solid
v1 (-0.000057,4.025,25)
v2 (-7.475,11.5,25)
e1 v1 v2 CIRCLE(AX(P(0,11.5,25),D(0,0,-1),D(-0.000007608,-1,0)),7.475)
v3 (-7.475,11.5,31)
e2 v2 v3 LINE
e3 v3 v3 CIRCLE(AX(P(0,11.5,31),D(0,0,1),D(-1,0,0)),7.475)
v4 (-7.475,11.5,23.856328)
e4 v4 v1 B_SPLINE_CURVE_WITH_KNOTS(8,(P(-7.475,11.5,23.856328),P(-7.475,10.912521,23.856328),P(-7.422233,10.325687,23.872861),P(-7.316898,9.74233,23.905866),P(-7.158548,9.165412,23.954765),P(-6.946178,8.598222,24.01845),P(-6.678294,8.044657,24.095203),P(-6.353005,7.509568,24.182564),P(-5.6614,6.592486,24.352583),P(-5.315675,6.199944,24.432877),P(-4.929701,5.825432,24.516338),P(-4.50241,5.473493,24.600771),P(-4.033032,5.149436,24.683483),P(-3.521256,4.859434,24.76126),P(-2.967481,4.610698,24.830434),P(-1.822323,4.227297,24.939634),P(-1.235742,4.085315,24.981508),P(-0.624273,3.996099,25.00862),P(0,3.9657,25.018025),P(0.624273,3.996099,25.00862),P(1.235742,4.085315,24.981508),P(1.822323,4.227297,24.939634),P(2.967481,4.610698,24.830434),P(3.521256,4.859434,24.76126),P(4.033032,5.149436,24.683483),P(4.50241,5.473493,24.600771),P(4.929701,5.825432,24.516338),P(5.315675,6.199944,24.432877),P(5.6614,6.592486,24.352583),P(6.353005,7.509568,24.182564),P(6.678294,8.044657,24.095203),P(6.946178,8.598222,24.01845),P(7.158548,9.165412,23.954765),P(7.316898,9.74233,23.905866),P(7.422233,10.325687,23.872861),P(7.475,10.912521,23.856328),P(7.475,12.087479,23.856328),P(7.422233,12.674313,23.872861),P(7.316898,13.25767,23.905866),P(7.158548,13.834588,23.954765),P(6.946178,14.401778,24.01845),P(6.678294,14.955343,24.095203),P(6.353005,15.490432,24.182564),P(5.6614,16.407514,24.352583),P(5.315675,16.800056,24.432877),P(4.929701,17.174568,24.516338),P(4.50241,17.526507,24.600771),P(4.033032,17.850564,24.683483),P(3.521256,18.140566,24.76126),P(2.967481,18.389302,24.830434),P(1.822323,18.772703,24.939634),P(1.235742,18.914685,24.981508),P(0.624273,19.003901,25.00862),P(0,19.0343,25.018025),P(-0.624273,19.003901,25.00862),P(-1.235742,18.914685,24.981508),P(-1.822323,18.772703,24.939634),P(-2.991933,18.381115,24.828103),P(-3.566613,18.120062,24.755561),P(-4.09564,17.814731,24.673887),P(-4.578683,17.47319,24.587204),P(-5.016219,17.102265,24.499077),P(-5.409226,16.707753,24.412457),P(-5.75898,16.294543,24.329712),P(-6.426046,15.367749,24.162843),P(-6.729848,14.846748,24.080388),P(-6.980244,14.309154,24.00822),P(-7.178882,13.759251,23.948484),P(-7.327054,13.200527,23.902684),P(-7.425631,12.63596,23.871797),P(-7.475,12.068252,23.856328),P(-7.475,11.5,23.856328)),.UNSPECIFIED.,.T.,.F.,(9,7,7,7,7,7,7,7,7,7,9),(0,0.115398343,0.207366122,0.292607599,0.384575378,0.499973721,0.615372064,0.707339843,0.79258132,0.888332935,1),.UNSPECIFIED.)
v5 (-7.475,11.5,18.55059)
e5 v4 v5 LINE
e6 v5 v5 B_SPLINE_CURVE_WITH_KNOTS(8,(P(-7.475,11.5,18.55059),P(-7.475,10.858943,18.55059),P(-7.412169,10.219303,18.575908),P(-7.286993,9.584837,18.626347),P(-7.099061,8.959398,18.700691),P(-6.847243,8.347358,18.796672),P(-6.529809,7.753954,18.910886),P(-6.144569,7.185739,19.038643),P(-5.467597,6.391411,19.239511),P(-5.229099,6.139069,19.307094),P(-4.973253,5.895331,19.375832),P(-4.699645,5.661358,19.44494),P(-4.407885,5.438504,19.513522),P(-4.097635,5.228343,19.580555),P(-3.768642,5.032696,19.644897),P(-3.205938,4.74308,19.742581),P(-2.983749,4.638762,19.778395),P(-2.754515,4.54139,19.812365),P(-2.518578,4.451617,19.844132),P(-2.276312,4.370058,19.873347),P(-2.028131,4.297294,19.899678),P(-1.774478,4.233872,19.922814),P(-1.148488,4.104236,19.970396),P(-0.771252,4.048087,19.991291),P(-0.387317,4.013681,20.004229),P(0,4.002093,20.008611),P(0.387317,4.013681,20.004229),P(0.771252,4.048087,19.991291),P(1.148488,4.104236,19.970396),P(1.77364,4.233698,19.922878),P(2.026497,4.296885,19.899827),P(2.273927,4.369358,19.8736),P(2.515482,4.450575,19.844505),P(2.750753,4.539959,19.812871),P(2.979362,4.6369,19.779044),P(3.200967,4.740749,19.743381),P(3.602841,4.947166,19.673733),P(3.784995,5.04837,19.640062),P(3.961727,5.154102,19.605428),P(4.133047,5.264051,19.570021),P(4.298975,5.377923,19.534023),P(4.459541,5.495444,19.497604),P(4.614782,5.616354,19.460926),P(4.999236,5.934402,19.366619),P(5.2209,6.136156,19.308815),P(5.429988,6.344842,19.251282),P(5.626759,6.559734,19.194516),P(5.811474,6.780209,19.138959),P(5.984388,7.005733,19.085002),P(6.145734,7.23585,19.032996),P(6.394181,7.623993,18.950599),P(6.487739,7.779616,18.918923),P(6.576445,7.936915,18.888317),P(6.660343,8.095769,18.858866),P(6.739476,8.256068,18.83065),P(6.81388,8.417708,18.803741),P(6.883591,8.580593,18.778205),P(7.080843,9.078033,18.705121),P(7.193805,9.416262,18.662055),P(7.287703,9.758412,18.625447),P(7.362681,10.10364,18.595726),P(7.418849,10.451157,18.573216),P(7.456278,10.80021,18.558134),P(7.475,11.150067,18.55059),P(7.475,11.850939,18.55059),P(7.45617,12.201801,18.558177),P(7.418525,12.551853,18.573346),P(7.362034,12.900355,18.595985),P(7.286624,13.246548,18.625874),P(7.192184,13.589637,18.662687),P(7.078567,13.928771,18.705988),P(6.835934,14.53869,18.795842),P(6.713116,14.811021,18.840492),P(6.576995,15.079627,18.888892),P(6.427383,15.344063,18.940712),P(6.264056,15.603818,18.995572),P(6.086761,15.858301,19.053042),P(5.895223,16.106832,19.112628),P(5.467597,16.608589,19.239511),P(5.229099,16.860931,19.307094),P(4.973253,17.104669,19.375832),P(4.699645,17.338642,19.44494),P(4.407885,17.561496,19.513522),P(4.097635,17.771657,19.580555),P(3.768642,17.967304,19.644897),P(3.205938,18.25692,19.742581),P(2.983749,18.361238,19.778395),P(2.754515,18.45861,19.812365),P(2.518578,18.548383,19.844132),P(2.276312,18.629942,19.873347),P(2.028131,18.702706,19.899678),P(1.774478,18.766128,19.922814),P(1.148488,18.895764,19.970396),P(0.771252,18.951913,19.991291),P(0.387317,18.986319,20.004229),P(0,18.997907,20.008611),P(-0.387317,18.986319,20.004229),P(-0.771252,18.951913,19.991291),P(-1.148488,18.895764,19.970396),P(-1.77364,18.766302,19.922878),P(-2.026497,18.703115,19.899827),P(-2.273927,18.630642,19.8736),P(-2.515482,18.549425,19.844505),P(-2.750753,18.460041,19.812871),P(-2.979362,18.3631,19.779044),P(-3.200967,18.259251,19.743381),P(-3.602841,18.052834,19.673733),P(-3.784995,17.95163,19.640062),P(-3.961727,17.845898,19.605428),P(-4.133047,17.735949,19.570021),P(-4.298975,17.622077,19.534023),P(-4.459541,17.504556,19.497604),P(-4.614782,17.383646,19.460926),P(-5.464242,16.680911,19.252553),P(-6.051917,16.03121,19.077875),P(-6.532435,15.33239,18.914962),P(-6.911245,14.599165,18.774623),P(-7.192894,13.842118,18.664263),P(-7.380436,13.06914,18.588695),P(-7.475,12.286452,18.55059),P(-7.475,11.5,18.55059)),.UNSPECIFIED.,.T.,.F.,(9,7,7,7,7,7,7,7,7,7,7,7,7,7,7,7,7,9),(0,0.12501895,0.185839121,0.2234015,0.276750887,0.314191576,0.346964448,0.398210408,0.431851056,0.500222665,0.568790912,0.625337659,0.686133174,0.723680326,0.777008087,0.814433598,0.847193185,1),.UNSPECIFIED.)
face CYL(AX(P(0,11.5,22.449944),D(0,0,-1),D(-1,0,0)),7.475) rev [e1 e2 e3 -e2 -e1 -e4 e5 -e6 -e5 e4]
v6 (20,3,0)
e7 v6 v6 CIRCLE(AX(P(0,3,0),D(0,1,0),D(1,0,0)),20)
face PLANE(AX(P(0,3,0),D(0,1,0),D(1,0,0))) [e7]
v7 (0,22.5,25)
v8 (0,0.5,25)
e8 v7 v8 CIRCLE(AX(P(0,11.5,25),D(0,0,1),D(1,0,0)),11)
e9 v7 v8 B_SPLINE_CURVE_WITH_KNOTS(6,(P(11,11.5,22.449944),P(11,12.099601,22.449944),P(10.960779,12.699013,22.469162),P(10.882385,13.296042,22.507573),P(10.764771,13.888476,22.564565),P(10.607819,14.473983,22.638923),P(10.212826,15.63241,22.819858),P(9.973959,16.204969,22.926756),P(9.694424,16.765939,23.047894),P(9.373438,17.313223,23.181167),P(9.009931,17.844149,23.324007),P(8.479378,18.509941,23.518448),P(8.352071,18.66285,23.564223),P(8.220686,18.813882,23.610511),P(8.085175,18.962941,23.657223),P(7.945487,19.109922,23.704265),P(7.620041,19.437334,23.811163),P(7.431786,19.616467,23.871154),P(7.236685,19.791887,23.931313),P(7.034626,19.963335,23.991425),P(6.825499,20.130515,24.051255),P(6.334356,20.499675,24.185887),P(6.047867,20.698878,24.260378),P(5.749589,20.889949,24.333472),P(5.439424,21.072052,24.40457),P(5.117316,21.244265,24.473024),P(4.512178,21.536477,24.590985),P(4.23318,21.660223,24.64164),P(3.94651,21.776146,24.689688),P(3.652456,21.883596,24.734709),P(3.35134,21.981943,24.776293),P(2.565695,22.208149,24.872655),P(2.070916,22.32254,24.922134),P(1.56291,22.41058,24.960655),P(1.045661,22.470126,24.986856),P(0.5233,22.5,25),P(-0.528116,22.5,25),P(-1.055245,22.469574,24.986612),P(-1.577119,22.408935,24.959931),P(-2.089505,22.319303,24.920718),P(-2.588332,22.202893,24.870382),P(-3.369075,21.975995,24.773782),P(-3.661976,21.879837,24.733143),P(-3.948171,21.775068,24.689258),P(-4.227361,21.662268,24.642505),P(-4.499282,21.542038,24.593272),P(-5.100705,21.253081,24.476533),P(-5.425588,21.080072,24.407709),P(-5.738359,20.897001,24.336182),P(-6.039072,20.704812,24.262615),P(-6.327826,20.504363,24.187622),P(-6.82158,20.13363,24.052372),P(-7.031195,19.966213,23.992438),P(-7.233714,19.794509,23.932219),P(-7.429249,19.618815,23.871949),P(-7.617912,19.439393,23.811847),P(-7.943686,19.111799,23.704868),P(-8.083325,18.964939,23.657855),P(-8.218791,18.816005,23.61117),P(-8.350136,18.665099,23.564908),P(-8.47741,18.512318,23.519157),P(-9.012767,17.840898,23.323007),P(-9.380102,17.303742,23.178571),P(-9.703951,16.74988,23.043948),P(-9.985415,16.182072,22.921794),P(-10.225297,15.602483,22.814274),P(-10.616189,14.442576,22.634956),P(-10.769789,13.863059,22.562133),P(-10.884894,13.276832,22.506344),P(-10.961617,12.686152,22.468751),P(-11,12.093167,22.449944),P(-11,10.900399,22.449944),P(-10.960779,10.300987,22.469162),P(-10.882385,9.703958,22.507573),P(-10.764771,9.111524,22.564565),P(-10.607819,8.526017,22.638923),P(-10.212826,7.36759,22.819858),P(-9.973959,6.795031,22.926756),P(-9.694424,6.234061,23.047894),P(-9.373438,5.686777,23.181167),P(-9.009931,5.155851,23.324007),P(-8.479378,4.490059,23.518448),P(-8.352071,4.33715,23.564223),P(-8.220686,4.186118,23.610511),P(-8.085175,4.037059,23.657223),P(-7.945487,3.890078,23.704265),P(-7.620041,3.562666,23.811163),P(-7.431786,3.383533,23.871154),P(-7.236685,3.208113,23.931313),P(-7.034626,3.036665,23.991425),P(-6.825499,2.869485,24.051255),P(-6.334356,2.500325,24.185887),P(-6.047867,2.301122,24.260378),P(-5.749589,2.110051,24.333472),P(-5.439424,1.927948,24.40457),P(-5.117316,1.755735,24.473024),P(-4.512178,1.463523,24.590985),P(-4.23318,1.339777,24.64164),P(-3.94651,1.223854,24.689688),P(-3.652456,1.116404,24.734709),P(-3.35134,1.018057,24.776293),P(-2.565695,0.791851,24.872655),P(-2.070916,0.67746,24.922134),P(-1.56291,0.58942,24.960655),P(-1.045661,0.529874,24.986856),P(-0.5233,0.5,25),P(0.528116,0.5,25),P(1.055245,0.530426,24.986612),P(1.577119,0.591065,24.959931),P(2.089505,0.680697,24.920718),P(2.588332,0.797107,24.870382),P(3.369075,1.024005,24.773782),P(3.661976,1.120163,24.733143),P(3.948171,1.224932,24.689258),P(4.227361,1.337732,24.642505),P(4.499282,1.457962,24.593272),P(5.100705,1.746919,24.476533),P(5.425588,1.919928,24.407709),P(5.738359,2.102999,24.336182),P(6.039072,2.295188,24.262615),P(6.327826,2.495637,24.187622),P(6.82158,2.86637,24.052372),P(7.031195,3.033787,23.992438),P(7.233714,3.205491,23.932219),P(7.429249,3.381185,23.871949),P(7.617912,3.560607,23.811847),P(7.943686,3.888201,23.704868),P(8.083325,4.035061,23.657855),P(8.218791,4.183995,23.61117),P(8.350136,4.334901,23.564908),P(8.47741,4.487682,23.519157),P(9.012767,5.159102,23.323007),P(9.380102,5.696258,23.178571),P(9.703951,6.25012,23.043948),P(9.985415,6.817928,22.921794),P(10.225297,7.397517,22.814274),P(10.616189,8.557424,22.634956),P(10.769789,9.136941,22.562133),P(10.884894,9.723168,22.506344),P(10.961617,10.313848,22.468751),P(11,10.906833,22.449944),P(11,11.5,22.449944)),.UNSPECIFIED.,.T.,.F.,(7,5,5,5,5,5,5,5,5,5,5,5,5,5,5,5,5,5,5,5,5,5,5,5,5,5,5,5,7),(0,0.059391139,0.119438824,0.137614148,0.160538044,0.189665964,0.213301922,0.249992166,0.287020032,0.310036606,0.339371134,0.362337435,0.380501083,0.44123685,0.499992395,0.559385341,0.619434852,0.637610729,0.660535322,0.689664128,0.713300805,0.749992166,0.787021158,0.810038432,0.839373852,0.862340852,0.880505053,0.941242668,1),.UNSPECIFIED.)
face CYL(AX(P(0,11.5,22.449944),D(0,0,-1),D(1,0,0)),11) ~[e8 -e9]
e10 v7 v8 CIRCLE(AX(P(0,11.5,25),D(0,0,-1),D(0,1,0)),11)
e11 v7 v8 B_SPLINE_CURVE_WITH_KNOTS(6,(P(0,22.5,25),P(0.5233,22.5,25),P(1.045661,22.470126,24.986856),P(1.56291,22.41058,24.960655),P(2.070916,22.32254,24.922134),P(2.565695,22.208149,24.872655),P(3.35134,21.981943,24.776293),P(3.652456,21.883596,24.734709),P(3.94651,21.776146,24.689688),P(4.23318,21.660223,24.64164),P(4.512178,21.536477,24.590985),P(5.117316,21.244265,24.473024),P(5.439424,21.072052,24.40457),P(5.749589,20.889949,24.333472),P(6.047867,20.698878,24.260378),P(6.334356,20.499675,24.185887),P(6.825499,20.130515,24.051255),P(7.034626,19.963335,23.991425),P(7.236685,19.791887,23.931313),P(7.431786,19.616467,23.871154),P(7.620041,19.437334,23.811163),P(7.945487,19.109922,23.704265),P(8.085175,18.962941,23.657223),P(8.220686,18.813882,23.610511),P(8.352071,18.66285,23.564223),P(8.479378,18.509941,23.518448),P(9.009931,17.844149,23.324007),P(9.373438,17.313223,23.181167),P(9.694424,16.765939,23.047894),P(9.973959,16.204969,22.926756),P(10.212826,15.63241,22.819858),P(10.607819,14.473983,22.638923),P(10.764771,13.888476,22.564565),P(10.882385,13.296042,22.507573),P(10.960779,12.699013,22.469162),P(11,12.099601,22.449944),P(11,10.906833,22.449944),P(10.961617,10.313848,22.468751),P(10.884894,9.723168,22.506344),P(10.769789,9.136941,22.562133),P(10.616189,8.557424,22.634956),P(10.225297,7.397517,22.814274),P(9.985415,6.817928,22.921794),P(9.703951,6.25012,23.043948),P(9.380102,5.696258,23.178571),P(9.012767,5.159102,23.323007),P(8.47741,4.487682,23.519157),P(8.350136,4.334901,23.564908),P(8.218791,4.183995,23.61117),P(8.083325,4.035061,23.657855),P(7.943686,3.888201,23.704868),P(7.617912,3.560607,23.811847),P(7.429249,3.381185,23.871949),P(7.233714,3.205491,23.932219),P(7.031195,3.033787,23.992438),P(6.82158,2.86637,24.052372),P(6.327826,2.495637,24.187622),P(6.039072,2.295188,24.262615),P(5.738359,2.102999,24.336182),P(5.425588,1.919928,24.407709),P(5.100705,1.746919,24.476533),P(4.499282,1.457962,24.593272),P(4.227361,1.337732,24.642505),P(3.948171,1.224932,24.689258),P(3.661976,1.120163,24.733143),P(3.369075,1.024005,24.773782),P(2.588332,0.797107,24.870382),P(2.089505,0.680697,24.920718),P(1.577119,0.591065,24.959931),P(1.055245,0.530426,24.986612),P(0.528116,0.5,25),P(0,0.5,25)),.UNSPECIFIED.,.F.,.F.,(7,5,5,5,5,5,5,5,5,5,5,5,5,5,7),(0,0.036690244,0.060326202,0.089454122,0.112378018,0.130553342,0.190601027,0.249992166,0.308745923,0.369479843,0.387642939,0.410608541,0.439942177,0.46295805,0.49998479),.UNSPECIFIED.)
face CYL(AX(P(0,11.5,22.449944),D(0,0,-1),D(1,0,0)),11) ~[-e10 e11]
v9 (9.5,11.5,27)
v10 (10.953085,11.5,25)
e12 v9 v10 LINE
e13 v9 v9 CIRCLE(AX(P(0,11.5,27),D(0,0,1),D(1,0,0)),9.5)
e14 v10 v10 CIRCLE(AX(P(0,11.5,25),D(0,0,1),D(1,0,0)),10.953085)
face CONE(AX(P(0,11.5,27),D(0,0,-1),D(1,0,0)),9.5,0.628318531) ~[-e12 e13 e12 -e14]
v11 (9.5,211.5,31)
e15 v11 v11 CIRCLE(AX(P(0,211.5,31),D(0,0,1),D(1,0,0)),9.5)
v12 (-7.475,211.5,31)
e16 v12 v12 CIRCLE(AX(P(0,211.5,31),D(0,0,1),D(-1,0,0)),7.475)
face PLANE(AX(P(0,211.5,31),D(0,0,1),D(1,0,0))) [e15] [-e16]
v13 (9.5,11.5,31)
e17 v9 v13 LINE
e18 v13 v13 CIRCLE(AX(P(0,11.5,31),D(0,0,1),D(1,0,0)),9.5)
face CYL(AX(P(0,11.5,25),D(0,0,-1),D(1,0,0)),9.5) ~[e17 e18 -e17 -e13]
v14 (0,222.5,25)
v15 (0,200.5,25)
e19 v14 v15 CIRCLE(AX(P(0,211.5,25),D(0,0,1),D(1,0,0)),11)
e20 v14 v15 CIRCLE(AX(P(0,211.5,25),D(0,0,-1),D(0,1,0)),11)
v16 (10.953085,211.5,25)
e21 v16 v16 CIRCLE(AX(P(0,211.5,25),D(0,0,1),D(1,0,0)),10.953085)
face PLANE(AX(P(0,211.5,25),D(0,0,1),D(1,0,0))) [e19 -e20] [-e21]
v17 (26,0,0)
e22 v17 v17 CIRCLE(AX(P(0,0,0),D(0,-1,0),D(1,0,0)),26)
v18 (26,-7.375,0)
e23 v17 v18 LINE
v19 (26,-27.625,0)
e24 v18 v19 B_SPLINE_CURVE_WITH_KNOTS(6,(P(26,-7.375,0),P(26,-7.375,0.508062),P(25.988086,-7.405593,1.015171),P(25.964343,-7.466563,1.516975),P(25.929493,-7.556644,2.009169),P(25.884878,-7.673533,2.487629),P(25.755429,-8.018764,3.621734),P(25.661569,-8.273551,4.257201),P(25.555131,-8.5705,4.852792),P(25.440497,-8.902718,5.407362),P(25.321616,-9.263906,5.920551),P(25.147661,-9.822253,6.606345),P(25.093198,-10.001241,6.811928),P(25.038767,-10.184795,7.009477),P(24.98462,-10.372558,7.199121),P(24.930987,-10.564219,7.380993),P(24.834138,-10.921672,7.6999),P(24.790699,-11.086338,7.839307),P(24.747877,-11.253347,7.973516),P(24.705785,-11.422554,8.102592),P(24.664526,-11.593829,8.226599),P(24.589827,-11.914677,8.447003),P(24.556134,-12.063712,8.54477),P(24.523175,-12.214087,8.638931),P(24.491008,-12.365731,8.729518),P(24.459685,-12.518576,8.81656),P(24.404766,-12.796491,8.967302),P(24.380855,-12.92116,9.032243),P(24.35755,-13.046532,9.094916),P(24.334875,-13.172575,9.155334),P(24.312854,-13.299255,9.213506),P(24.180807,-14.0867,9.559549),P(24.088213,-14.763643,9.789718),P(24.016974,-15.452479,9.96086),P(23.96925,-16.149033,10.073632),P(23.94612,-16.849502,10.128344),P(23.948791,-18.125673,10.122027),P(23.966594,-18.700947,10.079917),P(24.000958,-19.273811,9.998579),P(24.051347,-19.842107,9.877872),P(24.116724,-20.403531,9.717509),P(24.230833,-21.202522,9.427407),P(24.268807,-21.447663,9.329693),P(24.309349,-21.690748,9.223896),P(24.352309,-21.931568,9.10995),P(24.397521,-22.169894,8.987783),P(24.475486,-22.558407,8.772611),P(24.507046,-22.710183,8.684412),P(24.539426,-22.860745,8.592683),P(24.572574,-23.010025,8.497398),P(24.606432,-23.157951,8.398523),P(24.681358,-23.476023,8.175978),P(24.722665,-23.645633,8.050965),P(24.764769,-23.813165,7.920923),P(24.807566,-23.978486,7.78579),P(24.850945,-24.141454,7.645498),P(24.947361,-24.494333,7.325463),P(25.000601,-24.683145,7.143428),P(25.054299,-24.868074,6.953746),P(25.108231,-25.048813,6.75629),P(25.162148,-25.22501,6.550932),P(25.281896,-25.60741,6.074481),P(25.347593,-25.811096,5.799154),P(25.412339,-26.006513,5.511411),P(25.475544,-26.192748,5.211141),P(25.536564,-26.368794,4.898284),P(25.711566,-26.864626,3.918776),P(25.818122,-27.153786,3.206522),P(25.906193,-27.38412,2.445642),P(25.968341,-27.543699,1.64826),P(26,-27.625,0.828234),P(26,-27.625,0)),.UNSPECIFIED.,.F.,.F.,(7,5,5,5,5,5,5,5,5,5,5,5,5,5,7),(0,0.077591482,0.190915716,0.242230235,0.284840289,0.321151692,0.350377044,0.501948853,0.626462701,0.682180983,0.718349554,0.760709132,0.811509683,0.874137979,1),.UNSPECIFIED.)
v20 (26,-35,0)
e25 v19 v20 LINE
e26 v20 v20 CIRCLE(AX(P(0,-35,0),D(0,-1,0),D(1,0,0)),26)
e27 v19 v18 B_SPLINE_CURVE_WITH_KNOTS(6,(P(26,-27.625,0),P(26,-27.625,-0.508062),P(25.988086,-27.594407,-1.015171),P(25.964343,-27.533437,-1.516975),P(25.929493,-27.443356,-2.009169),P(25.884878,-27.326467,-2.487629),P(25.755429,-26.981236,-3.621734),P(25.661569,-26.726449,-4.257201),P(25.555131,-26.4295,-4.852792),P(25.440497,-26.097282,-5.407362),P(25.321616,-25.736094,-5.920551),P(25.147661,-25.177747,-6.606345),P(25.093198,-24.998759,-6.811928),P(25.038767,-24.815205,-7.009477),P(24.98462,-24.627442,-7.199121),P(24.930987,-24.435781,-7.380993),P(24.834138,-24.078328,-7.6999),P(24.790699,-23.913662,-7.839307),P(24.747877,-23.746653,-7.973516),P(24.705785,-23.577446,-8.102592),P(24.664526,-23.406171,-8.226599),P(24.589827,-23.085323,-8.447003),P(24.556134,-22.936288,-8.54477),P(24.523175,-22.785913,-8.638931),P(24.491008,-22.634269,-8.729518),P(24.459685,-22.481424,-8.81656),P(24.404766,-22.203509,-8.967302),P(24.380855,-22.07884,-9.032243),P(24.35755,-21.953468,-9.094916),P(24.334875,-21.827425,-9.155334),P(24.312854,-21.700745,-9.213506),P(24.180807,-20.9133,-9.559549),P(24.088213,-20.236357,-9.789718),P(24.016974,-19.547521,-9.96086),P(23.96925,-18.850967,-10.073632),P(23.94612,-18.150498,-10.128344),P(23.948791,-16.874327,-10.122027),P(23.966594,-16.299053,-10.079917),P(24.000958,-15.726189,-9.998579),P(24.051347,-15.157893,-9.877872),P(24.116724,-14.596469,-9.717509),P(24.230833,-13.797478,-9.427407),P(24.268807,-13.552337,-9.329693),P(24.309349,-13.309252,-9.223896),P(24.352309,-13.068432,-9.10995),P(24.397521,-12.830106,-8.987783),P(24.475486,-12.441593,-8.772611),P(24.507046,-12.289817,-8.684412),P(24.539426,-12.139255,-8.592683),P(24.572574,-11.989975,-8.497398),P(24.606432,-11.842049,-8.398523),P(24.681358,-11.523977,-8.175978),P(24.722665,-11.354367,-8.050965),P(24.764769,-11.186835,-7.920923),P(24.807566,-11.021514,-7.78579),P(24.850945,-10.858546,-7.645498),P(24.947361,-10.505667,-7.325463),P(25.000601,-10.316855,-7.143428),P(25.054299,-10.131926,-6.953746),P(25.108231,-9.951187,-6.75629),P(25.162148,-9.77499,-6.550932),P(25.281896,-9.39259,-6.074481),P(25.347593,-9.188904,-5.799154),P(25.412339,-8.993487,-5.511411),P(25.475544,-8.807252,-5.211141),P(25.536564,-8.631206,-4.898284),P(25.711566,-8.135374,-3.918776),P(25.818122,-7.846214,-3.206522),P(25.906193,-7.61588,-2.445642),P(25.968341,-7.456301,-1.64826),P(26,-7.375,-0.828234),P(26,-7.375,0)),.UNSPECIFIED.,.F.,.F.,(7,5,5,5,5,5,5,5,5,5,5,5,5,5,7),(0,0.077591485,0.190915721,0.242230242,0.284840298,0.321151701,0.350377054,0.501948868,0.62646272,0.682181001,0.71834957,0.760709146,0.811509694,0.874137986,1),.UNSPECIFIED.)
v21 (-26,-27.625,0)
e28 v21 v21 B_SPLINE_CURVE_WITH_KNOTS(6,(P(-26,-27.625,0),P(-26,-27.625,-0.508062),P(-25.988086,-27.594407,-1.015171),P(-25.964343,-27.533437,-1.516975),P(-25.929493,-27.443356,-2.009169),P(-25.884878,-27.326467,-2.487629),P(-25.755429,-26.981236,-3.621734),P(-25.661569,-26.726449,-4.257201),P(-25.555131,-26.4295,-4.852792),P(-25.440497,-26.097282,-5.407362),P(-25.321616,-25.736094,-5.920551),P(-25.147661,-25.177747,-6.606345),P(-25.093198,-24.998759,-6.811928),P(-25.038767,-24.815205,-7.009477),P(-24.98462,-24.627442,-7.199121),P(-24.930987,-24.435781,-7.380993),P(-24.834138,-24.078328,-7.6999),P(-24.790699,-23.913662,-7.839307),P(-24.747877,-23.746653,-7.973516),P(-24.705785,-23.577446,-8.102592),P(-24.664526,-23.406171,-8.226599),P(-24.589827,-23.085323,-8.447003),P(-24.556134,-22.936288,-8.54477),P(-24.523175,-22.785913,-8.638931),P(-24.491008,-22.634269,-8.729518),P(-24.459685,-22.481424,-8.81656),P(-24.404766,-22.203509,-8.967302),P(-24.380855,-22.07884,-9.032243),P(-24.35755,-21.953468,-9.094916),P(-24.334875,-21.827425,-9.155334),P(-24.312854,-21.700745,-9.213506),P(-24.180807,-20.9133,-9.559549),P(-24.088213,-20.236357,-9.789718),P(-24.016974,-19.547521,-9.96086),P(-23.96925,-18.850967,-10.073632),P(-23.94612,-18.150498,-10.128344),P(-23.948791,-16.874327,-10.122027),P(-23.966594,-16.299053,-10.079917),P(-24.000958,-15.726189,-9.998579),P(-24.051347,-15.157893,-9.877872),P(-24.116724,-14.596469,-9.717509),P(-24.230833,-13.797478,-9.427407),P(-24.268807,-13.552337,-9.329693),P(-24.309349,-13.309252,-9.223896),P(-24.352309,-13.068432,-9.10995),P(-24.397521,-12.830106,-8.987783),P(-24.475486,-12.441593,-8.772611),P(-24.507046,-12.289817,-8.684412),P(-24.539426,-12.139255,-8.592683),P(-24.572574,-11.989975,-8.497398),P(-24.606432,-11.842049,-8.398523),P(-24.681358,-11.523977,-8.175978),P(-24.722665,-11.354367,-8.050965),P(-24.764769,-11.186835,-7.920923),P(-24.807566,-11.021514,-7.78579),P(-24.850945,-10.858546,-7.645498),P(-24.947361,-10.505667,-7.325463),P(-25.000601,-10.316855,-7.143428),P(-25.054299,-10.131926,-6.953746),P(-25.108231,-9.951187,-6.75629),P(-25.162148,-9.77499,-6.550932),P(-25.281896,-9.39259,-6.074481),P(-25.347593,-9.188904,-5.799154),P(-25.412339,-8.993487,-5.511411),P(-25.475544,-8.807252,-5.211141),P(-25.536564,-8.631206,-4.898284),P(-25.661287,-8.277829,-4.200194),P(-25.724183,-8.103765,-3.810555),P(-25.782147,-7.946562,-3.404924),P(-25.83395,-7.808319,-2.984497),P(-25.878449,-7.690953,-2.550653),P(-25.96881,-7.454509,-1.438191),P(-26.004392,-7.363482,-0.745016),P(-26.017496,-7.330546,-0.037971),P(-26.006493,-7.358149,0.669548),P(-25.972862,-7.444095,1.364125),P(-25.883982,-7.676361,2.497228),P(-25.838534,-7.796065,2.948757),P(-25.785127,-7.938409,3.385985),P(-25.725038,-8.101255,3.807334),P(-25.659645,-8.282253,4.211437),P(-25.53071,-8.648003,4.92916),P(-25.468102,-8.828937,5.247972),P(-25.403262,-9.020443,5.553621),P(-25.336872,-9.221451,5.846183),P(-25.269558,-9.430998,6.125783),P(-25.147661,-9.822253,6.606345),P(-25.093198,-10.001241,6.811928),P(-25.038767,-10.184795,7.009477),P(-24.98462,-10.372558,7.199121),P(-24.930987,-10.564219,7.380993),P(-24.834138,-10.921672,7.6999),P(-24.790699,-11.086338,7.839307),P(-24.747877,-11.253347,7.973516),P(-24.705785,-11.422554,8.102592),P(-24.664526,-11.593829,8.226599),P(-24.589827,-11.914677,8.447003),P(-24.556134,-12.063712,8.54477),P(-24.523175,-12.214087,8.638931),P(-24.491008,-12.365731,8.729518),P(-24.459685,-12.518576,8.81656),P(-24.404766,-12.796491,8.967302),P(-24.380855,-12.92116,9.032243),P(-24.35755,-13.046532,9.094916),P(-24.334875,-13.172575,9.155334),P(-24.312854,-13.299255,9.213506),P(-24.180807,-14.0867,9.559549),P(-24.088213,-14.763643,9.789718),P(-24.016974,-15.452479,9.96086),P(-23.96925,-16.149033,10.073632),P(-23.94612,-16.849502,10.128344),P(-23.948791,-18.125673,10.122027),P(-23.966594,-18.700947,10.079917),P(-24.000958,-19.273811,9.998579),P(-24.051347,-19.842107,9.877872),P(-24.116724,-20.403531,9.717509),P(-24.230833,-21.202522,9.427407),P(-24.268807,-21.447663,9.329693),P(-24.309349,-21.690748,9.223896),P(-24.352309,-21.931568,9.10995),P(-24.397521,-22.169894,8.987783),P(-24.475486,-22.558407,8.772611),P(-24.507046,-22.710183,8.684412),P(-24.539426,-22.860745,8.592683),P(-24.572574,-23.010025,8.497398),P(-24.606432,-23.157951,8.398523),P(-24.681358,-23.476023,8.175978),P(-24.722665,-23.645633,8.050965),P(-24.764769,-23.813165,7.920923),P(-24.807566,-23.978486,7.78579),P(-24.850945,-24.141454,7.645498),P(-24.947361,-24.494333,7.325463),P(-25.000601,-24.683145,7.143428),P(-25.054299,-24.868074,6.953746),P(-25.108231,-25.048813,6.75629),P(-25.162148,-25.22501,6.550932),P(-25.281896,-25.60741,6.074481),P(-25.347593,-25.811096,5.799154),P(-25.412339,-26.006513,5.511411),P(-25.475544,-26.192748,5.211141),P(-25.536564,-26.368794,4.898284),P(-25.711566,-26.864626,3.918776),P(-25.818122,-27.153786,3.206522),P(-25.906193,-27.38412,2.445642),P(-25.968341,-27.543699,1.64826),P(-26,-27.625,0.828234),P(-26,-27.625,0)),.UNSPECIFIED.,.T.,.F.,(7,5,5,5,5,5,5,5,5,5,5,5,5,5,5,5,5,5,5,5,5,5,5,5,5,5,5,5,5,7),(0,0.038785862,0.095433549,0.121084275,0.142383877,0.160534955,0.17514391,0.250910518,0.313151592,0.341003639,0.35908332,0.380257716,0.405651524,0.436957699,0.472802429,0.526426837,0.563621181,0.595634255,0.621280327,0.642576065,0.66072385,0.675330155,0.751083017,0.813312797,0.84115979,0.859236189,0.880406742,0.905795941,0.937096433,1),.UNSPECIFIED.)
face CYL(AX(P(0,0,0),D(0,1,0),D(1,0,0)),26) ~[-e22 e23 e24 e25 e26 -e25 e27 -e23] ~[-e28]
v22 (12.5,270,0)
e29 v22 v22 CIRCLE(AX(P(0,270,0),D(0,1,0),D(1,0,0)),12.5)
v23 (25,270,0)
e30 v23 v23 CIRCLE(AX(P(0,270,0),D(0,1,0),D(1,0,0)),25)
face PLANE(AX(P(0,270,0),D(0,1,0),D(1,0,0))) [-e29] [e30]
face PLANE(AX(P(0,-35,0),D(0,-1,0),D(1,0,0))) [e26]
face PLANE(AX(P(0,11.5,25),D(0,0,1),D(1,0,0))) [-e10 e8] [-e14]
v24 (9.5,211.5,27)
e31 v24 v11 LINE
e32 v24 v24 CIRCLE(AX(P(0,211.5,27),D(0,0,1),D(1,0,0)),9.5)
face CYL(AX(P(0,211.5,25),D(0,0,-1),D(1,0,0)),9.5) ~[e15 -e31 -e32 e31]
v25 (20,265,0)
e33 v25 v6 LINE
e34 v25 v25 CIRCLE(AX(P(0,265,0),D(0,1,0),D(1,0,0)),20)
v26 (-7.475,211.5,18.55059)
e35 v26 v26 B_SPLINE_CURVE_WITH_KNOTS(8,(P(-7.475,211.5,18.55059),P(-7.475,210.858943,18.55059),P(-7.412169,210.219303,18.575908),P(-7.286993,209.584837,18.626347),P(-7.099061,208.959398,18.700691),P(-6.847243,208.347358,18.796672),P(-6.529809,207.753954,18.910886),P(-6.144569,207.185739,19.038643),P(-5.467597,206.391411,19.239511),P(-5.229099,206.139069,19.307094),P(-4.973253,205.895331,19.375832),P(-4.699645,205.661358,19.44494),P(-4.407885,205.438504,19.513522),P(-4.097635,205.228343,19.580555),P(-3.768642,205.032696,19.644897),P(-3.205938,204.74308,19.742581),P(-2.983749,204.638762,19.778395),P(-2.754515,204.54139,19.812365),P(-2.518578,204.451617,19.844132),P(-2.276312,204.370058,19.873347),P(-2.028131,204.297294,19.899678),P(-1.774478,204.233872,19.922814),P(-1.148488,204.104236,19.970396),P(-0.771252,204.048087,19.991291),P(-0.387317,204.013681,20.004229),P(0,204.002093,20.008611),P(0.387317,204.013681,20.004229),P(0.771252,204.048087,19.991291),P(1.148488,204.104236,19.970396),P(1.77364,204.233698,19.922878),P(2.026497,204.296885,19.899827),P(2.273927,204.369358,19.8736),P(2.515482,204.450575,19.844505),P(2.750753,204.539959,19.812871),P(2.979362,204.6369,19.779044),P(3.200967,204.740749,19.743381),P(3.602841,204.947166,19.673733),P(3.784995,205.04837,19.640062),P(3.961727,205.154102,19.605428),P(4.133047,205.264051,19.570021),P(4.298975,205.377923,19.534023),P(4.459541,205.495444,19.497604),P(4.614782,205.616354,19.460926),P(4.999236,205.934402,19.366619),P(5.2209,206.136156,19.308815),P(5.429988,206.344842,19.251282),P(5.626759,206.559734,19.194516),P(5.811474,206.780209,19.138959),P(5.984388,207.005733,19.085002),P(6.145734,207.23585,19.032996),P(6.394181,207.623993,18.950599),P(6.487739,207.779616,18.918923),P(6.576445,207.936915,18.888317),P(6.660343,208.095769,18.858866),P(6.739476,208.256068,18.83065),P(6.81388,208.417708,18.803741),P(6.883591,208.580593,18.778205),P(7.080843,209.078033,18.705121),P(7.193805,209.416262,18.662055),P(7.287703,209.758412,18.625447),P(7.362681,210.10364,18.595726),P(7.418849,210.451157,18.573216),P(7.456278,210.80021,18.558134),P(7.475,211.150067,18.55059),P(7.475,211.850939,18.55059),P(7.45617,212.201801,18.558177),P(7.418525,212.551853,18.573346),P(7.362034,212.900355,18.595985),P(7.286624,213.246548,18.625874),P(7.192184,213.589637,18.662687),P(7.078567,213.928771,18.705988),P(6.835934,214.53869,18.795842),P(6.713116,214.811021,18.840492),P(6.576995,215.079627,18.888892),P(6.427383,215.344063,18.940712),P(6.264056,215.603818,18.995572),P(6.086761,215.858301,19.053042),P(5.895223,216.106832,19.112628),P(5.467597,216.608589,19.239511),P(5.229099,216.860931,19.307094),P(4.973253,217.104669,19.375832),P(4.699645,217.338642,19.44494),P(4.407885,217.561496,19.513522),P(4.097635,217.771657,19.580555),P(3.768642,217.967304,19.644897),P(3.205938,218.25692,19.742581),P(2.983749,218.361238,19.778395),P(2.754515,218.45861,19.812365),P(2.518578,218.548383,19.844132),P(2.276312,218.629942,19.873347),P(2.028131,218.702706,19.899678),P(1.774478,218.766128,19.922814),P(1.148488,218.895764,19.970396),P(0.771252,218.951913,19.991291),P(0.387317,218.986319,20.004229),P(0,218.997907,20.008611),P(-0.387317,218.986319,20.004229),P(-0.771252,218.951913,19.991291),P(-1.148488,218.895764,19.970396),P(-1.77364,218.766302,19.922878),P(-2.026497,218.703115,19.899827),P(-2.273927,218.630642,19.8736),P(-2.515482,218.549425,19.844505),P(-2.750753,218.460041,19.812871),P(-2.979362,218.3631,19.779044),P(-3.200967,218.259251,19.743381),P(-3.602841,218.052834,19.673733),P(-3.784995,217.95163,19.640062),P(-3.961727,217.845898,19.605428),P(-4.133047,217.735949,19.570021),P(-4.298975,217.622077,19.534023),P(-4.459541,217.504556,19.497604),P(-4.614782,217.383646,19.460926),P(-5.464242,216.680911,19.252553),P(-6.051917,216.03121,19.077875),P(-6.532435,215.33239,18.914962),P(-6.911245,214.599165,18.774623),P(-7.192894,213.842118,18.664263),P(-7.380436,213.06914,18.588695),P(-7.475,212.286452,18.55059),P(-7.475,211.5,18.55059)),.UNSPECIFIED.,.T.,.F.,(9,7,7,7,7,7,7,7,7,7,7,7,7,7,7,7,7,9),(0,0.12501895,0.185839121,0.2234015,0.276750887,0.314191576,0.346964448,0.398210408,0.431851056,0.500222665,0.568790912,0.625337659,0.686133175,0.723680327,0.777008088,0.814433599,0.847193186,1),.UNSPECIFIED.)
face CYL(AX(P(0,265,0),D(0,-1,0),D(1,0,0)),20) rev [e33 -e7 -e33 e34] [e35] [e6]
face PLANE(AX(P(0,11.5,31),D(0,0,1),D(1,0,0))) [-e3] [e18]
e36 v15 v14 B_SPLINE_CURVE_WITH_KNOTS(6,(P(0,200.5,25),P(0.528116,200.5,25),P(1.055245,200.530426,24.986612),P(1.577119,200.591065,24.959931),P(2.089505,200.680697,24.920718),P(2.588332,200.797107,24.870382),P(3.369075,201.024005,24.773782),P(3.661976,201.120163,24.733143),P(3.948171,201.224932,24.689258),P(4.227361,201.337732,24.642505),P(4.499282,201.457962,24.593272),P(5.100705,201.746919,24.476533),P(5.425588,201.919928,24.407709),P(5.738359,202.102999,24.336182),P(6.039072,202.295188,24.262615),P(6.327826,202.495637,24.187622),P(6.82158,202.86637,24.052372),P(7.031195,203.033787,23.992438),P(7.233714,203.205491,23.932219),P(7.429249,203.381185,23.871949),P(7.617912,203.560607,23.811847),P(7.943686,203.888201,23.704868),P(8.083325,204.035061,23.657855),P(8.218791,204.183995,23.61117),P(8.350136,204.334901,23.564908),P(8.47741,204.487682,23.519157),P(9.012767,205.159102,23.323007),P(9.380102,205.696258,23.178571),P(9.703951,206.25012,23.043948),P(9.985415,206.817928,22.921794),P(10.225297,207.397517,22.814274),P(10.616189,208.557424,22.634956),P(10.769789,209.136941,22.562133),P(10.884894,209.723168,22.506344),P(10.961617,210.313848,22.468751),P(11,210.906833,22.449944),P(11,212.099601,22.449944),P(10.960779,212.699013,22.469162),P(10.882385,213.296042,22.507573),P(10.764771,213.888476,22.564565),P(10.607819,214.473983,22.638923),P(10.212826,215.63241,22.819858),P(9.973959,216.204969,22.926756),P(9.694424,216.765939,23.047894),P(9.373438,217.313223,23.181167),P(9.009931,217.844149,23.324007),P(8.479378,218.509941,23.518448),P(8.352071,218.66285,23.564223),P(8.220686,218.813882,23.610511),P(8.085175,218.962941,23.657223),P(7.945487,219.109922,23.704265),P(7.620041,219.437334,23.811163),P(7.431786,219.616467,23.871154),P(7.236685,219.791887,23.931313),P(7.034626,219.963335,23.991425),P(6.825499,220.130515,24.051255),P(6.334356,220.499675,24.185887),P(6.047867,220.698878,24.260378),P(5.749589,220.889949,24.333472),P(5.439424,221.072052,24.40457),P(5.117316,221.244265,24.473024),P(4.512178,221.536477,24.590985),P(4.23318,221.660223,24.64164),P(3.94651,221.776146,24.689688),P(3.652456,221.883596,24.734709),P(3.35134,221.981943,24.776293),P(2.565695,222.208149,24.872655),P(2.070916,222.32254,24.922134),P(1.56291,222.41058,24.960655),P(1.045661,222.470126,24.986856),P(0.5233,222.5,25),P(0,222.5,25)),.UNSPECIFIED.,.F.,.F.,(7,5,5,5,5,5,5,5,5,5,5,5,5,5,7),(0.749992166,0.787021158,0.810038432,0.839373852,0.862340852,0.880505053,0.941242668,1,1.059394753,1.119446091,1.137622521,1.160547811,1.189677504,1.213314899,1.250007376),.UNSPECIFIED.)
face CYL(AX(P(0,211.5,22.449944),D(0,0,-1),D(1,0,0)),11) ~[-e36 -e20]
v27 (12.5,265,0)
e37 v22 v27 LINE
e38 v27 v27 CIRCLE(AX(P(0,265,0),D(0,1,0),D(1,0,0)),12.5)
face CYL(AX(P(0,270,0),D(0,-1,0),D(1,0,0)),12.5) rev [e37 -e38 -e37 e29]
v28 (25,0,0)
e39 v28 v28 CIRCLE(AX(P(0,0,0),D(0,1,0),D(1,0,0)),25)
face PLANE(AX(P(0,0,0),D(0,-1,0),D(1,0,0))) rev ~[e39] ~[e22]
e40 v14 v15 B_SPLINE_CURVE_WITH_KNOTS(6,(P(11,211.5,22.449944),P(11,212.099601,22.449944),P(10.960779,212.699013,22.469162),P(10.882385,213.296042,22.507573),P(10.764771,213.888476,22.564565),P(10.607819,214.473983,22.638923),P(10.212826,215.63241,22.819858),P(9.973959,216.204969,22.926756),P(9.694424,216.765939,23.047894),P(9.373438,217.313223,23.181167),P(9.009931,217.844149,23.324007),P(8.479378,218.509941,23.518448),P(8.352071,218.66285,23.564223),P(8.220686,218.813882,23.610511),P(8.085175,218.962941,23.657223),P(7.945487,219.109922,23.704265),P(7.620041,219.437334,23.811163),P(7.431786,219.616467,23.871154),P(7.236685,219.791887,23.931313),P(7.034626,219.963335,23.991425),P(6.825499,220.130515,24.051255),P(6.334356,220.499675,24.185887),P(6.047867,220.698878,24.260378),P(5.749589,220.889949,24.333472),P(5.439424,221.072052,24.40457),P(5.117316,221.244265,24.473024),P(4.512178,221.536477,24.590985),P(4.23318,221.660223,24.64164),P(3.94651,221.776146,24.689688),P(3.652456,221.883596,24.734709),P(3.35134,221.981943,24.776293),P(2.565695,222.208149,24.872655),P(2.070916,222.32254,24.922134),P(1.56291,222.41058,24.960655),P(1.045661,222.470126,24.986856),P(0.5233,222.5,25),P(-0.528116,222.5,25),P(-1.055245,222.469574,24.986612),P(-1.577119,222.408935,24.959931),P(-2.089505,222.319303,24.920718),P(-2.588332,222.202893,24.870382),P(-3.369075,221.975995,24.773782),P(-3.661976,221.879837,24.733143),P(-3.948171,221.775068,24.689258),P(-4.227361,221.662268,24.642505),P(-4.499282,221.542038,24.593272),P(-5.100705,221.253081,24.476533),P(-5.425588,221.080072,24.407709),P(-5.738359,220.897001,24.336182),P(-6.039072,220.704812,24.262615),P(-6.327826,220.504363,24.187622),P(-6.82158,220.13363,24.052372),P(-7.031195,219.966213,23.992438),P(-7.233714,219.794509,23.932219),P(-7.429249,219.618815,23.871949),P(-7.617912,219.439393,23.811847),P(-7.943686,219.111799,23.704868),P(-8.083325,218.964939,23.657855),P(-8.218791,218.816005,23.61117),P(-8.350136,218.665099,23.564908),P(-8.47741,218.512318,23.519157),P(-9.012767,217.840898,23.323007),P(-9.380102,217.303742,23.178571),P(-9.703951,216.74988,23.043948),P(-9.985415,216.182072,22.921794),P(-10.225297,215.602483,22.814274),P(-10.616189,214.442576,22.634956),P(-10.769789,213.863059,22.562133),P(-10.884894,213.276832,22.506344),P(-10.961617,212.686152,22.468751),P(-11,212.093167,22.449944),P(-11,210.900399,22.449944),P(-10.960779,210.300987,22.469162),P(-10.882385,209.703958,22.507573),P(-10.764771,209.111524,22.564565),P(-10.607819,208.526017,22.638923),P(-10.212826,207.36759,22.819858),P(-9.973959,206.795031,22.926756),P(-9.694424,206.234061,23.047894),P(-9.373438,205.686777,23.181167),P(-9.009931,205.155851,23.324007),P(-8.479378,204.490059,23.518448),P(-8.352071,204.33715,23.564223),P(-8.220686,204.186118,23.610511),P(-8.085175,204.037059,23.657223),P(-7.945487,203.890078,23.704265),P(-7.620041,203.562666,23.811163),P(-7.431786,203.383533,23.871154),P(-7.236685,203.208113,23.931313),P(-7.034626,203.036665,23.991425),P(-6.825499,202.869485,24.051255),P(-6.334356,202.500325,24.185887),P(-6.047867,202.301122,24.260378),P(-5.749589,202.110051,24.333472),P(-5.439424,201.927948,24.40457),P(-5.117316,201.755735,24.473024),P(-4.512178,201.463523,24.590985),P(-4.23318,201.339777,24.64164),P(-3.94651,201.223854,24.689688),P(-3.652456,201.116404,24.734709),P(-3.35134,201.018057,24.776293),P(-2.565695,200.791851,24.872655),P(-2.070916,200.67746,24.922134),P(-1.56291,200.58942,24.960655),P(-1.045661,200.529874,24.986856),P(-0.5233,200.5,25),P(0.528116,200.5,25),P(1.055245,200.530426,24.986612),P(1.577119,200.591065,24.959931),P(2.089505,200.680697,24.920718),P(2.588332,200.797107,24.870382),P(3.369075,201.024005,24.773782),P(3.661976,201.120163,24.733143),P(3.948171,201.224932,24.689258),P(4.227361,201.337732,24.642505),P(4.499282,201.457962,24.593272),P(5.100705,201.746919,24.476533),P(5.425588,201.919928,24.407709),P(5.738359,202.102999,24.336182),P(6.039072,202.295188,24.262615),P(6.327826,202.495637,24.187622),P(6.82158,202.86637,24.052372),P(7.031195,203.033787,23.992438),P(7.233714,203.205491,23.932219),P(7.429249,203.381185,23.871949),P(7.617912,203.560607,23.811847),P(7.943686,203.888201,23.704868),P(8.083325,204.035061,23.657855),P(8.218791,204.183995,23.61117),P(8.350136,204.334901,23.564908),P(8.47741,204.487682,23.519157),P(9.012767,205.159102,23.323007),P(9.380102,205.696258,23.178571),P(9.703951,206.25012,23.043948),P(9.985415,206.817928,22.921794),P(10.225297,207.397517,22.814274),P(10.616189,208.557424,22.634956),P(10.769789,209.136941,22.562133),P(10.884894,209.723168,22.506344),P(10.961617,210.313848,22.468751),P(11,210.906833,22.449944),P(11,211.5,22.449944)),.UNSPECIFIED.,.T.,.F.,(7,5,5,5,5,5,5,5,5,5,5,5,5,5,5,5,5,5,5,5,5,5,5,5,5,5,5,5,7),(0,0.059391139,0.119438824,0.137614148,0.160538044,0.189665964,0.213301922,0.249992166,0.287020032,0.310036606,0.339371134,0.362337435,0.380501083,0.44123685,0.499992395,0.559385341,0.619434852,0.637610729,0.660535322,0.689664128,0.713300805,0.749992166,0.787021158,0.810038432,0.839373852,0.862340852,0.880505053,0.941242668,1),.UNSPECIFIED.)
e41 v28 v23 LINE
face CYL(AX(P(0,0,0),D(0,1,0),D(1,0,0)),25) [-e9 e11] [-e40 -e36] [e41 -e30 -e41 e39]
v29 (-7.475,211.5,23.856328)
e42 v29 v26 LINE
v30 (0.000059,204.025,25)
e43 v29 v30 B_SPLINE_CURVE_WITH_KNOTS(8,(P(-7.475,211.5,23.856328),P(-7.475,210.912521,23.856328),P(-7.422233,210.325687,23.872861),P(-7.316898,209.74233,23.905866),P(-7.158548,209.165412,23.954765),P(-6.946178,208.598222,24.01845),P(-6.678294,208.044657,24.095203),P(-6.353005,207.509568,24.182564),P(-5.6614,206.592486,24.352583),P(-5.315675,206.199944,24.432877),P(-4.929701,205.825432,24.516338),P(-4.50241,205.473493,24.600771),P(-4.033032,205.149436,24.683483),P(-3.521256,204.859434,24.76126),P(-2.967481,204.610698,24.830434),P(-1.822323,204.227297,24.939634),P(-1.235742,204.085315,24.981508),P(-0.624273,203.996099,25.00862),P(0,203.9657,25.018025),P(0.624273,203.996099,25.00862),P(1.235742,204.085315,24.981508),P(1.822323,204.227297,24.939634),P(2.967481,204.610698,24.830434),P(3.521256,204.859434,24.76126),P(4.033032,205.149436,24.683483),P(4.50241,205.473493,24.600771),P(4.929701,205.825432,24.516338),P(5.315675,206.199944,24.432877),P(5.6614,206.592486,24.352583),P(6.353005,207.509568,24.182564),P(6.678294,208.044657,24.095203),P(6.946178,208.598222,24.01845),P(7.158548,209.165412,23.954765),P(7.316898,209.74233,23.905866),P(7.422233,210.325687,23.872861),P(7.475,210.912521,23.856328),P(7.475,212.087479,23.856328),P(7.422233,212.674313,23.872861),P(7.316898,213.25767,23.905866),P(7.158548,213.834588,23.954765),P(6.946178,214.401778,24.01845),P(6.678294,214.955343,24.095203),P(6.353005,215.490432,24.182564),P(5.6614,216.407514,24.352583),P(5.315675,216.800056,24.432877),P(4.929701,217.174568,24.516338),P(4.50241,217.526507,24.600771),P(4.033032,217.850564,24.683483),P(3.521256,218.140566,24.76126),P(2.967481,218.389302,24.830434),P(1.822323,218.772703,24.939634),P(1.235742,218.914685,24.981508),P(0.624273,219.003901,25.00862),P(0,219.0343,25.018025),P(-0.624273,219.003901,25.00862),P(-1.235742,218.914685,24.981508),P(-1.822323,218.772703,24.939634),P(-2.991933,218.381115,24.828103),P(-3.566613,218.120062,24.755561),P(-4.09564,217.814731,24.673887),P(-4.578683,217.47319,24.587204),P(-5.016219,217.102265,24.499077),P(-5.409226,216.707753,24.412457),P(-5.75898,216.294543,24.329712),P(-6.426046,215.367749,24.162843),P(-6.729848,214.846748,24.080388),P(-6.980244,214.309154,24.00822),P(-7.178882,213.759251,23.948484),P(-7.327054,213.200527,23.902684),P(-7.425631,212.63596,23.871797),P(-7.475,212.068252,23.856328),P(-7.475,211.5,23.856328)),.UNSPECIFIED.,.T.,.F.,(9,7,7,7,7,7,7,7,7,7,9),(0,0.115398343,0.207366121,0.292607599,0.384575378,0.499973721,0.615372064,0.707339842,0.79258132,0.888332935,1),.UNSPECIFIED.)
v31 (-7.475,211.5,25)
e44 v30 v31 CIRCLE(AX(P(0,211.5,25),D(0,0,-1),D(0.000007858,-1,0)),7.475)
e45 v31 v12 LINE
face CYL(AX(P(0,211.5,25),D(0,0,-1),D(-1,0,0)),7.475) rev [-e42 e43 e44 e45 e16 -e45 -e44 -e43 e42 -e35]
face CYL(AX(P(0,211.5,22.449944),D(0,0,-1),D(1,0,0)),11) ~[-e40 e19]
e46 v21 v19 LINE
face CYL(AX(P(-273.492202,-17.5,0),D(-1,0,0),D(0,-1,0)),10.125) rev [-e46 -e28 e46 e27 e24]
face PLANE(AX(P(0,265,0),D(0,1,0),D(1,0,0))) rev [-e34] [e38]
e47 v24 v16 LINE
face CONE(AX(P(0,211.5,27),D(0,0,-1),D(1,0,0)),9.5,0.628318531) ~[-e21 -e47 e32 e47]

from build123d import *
from OCP.BRepFilletAPI import BRepFilletAPI_MakeChamfer

# Parameters (mm, degrees)
ESQUISSE2_R                  = 26
BOSS_EXTRU_1_DEPTH           = 35
ESQUISSE3_R                  = 7.475
ENL_V_MAT_EXTRU_2_DEPTH      = 273.492201723
ENL_V_MAT_EXTRU_3_DEPTH      = 273.492201822
ENL_V_MAT_EXTRU_3_DEPTH_BACK = 273.492201822
ESQUISSE4_R                  = 10.125
BOSS_EXTRU_2_START           = -2.550056
ESQUISSE5_R                  = 11
ESQUISSE5_R_2                = 7.475
BOSS_EXTRU_2_DEPTH           = 2.550056
ESQUISSE6_R                  = 9.5
ESQUISSE6_R_2                = 7.475
BOSS_EXTRU_3_DEPTH           = 6
CHANFREIN2_SIZE              = 2
CHANFREIN2_SIZE2             = 1.453085056


with BuildPart() as part:
    # Esquisse1 → Révolution1 (revolve)
    with BuildSketch(Plane.XY):
        Polygon((0, 0), (25, 0), (25, 270), (12.5, 270), (12.5, 265), (20, 265), (20, 3), (0, 3), align=None)
    revolve(axis=Axis((0, 3, 0), (0, 1, 0)))

    # Esquisse2 → Boss.-Extru.1 (add)
    with BuildSketch(Plane(origin=(0, 0, 0), x_dir=(-1, 0, 0), z_dir=(0, -1, 0))):
        with Locations(Location((0, 0, 0), (0, 0, 180))):
            Circle(ESQUISSE2_R)
    extrude(amount=BOSS_EXTRU_1_DEPTH)

    # Esquisse3 → Enlèv. mat.-Extru.2 (cut, through all)
    with BuildSketch(Plane.XY):
        with Locations(Location((0, 11.5, 0), (0, 0, 180))):
            Circle(ESQUISSE3_R)
        with Locations(Location((0, 211.5, 0), (0, 0, 180))):
            Circle(ESQUISSE3_R)
    extrude(amount=ENL_V_MAT_EXTRU_2_DEPTH, mode=Mode.SUBTRACT)

    # Esquisse4 → Enlèv. mat.-Extru.3 (cut, two sides: drawn at the far end of the back side and taken through both)
    with BuildSketch(Plane(origin=(0, 0, 0), x_dir=(0, 0, -1), z_dir=(1, 0, 0)).offset(-ENL_V_MAT_EXTRU_3_DEPTH_BACK)):
        with Locations(Location((0, -17.5, 0), (0, 0, 270))):
            Circle(ESQUISSE4_R)
    extrude(amount=ENL_V_MAT_EXTRU_3_DEPTH + ENL_V_MAT_EXTRU_3_DEPTH_BACK, mode=Mode.SUBTRACT)

    # Esquisse5 → Boss.-Extru.2 (add)
    # profile 1 of 2: a face of its own
    with BuildSketch(Plane.XY.offset(25).offset(BOSS_EXTRU_2_START)):
        with Locations((0, 211.5)):
            Circle(ESQUISSE5_R)
        with Locations(Location((0, 211.5, 0), (0, 0, 180))):
            Circle(ESQUISSE5_R_2, mode=Mode.SUBTRACT)
    # profile 2 of 2: a face of its own
    with BuildSketch(Plane.XY.offset(25).offset(BOSS_EXTRU_2_START)):
        with Locations((0, 11.5)):
            Circle(ESQUISSE5_R)
        with Locations(Location((0, 11.5, 0), (0, 0, 180))):
            Circle(ESQUISSE5_R_2, mode=Mode.SUBTRACT)
    extrude(amount=BOSS_EXTRU_2_DEPTH)

    # Esquisse6 → Boss.-Extru.3 (add)
    # profile 1 of 2: a face of its own
    with BuildSketch(Plane.XY.offset(25)):
        with Locations((0, 211.5)):
            Circle(ESQUISSE6_R)
        with Locations(Location((0, 211.5, 0), (0, 0, 180))):
            Circle(ESQUISSE6_R_2, mode=Mode.SUBTRACT)
    # profile 2 of 2: a face of its own
    with BuildSketch(Plane.XY.offset(25)):
        with Locations((0, 11.5)):
            Circle(ESQUISSE6_R)
        with Locations(Location((0, 11.5, 0), (0, 0, 180))):
            Circle(ESQUISSE6_R_2, mode=Mode.SUBTRACT)
    extrude(amount=BOSS_EXTRU_3_DEPTH)

    # Chanfrein2: one chamfer whose edges measure the first distance from different faces: ONE call of the kernel's chamfer builder (chamfer() names one face for all edges)
    chanfrein2_edges_1 = [part.edges().sort_by_distance(p)[0] for p in [
        (6.717514421, 204.782485579, 25),
    ]]
    chanfrein2_side_1 = [part.faces().sort_by_distance(p)[0] for p in [
        (-9.5, 211.5, 28),
    ]]
    chanfrein2_edges_2 = [part.edges().sort_by_distance(p)[0] for p in [
        (6.717514421, 4.782485579, 25),
    ]]
    chanfrein2_side_2 = [part.faces().sort_by_distance(p)[0] for p in [
        (-9.5, 11.5, 28),
    ]]
    chanfrein2 = BRepFilletAPI_MakeChamfer(part.part.solid().wrapped)
    for e in chanfrein2_edges_1:
        chanfrein2.Add(CHANFREIN2_SIZE, CHANFREIN2_SIZE2, e.wrapped, chanfrein2_side_1[0].wrapped)  # the first distance lies on this face
    for e in chanfrein2_edges_2:
        chanfrein2.Add(CHANFREIN2_SIZE, CHANFREIN2_SIZE2, e.wrapped, chanfrein2_side_2[0].wrapped)  # the first distance lies on this face
    add(Compound.cast(chanfrein2.Shape()), mode=Mode.REPLACE)


solid = part.part
